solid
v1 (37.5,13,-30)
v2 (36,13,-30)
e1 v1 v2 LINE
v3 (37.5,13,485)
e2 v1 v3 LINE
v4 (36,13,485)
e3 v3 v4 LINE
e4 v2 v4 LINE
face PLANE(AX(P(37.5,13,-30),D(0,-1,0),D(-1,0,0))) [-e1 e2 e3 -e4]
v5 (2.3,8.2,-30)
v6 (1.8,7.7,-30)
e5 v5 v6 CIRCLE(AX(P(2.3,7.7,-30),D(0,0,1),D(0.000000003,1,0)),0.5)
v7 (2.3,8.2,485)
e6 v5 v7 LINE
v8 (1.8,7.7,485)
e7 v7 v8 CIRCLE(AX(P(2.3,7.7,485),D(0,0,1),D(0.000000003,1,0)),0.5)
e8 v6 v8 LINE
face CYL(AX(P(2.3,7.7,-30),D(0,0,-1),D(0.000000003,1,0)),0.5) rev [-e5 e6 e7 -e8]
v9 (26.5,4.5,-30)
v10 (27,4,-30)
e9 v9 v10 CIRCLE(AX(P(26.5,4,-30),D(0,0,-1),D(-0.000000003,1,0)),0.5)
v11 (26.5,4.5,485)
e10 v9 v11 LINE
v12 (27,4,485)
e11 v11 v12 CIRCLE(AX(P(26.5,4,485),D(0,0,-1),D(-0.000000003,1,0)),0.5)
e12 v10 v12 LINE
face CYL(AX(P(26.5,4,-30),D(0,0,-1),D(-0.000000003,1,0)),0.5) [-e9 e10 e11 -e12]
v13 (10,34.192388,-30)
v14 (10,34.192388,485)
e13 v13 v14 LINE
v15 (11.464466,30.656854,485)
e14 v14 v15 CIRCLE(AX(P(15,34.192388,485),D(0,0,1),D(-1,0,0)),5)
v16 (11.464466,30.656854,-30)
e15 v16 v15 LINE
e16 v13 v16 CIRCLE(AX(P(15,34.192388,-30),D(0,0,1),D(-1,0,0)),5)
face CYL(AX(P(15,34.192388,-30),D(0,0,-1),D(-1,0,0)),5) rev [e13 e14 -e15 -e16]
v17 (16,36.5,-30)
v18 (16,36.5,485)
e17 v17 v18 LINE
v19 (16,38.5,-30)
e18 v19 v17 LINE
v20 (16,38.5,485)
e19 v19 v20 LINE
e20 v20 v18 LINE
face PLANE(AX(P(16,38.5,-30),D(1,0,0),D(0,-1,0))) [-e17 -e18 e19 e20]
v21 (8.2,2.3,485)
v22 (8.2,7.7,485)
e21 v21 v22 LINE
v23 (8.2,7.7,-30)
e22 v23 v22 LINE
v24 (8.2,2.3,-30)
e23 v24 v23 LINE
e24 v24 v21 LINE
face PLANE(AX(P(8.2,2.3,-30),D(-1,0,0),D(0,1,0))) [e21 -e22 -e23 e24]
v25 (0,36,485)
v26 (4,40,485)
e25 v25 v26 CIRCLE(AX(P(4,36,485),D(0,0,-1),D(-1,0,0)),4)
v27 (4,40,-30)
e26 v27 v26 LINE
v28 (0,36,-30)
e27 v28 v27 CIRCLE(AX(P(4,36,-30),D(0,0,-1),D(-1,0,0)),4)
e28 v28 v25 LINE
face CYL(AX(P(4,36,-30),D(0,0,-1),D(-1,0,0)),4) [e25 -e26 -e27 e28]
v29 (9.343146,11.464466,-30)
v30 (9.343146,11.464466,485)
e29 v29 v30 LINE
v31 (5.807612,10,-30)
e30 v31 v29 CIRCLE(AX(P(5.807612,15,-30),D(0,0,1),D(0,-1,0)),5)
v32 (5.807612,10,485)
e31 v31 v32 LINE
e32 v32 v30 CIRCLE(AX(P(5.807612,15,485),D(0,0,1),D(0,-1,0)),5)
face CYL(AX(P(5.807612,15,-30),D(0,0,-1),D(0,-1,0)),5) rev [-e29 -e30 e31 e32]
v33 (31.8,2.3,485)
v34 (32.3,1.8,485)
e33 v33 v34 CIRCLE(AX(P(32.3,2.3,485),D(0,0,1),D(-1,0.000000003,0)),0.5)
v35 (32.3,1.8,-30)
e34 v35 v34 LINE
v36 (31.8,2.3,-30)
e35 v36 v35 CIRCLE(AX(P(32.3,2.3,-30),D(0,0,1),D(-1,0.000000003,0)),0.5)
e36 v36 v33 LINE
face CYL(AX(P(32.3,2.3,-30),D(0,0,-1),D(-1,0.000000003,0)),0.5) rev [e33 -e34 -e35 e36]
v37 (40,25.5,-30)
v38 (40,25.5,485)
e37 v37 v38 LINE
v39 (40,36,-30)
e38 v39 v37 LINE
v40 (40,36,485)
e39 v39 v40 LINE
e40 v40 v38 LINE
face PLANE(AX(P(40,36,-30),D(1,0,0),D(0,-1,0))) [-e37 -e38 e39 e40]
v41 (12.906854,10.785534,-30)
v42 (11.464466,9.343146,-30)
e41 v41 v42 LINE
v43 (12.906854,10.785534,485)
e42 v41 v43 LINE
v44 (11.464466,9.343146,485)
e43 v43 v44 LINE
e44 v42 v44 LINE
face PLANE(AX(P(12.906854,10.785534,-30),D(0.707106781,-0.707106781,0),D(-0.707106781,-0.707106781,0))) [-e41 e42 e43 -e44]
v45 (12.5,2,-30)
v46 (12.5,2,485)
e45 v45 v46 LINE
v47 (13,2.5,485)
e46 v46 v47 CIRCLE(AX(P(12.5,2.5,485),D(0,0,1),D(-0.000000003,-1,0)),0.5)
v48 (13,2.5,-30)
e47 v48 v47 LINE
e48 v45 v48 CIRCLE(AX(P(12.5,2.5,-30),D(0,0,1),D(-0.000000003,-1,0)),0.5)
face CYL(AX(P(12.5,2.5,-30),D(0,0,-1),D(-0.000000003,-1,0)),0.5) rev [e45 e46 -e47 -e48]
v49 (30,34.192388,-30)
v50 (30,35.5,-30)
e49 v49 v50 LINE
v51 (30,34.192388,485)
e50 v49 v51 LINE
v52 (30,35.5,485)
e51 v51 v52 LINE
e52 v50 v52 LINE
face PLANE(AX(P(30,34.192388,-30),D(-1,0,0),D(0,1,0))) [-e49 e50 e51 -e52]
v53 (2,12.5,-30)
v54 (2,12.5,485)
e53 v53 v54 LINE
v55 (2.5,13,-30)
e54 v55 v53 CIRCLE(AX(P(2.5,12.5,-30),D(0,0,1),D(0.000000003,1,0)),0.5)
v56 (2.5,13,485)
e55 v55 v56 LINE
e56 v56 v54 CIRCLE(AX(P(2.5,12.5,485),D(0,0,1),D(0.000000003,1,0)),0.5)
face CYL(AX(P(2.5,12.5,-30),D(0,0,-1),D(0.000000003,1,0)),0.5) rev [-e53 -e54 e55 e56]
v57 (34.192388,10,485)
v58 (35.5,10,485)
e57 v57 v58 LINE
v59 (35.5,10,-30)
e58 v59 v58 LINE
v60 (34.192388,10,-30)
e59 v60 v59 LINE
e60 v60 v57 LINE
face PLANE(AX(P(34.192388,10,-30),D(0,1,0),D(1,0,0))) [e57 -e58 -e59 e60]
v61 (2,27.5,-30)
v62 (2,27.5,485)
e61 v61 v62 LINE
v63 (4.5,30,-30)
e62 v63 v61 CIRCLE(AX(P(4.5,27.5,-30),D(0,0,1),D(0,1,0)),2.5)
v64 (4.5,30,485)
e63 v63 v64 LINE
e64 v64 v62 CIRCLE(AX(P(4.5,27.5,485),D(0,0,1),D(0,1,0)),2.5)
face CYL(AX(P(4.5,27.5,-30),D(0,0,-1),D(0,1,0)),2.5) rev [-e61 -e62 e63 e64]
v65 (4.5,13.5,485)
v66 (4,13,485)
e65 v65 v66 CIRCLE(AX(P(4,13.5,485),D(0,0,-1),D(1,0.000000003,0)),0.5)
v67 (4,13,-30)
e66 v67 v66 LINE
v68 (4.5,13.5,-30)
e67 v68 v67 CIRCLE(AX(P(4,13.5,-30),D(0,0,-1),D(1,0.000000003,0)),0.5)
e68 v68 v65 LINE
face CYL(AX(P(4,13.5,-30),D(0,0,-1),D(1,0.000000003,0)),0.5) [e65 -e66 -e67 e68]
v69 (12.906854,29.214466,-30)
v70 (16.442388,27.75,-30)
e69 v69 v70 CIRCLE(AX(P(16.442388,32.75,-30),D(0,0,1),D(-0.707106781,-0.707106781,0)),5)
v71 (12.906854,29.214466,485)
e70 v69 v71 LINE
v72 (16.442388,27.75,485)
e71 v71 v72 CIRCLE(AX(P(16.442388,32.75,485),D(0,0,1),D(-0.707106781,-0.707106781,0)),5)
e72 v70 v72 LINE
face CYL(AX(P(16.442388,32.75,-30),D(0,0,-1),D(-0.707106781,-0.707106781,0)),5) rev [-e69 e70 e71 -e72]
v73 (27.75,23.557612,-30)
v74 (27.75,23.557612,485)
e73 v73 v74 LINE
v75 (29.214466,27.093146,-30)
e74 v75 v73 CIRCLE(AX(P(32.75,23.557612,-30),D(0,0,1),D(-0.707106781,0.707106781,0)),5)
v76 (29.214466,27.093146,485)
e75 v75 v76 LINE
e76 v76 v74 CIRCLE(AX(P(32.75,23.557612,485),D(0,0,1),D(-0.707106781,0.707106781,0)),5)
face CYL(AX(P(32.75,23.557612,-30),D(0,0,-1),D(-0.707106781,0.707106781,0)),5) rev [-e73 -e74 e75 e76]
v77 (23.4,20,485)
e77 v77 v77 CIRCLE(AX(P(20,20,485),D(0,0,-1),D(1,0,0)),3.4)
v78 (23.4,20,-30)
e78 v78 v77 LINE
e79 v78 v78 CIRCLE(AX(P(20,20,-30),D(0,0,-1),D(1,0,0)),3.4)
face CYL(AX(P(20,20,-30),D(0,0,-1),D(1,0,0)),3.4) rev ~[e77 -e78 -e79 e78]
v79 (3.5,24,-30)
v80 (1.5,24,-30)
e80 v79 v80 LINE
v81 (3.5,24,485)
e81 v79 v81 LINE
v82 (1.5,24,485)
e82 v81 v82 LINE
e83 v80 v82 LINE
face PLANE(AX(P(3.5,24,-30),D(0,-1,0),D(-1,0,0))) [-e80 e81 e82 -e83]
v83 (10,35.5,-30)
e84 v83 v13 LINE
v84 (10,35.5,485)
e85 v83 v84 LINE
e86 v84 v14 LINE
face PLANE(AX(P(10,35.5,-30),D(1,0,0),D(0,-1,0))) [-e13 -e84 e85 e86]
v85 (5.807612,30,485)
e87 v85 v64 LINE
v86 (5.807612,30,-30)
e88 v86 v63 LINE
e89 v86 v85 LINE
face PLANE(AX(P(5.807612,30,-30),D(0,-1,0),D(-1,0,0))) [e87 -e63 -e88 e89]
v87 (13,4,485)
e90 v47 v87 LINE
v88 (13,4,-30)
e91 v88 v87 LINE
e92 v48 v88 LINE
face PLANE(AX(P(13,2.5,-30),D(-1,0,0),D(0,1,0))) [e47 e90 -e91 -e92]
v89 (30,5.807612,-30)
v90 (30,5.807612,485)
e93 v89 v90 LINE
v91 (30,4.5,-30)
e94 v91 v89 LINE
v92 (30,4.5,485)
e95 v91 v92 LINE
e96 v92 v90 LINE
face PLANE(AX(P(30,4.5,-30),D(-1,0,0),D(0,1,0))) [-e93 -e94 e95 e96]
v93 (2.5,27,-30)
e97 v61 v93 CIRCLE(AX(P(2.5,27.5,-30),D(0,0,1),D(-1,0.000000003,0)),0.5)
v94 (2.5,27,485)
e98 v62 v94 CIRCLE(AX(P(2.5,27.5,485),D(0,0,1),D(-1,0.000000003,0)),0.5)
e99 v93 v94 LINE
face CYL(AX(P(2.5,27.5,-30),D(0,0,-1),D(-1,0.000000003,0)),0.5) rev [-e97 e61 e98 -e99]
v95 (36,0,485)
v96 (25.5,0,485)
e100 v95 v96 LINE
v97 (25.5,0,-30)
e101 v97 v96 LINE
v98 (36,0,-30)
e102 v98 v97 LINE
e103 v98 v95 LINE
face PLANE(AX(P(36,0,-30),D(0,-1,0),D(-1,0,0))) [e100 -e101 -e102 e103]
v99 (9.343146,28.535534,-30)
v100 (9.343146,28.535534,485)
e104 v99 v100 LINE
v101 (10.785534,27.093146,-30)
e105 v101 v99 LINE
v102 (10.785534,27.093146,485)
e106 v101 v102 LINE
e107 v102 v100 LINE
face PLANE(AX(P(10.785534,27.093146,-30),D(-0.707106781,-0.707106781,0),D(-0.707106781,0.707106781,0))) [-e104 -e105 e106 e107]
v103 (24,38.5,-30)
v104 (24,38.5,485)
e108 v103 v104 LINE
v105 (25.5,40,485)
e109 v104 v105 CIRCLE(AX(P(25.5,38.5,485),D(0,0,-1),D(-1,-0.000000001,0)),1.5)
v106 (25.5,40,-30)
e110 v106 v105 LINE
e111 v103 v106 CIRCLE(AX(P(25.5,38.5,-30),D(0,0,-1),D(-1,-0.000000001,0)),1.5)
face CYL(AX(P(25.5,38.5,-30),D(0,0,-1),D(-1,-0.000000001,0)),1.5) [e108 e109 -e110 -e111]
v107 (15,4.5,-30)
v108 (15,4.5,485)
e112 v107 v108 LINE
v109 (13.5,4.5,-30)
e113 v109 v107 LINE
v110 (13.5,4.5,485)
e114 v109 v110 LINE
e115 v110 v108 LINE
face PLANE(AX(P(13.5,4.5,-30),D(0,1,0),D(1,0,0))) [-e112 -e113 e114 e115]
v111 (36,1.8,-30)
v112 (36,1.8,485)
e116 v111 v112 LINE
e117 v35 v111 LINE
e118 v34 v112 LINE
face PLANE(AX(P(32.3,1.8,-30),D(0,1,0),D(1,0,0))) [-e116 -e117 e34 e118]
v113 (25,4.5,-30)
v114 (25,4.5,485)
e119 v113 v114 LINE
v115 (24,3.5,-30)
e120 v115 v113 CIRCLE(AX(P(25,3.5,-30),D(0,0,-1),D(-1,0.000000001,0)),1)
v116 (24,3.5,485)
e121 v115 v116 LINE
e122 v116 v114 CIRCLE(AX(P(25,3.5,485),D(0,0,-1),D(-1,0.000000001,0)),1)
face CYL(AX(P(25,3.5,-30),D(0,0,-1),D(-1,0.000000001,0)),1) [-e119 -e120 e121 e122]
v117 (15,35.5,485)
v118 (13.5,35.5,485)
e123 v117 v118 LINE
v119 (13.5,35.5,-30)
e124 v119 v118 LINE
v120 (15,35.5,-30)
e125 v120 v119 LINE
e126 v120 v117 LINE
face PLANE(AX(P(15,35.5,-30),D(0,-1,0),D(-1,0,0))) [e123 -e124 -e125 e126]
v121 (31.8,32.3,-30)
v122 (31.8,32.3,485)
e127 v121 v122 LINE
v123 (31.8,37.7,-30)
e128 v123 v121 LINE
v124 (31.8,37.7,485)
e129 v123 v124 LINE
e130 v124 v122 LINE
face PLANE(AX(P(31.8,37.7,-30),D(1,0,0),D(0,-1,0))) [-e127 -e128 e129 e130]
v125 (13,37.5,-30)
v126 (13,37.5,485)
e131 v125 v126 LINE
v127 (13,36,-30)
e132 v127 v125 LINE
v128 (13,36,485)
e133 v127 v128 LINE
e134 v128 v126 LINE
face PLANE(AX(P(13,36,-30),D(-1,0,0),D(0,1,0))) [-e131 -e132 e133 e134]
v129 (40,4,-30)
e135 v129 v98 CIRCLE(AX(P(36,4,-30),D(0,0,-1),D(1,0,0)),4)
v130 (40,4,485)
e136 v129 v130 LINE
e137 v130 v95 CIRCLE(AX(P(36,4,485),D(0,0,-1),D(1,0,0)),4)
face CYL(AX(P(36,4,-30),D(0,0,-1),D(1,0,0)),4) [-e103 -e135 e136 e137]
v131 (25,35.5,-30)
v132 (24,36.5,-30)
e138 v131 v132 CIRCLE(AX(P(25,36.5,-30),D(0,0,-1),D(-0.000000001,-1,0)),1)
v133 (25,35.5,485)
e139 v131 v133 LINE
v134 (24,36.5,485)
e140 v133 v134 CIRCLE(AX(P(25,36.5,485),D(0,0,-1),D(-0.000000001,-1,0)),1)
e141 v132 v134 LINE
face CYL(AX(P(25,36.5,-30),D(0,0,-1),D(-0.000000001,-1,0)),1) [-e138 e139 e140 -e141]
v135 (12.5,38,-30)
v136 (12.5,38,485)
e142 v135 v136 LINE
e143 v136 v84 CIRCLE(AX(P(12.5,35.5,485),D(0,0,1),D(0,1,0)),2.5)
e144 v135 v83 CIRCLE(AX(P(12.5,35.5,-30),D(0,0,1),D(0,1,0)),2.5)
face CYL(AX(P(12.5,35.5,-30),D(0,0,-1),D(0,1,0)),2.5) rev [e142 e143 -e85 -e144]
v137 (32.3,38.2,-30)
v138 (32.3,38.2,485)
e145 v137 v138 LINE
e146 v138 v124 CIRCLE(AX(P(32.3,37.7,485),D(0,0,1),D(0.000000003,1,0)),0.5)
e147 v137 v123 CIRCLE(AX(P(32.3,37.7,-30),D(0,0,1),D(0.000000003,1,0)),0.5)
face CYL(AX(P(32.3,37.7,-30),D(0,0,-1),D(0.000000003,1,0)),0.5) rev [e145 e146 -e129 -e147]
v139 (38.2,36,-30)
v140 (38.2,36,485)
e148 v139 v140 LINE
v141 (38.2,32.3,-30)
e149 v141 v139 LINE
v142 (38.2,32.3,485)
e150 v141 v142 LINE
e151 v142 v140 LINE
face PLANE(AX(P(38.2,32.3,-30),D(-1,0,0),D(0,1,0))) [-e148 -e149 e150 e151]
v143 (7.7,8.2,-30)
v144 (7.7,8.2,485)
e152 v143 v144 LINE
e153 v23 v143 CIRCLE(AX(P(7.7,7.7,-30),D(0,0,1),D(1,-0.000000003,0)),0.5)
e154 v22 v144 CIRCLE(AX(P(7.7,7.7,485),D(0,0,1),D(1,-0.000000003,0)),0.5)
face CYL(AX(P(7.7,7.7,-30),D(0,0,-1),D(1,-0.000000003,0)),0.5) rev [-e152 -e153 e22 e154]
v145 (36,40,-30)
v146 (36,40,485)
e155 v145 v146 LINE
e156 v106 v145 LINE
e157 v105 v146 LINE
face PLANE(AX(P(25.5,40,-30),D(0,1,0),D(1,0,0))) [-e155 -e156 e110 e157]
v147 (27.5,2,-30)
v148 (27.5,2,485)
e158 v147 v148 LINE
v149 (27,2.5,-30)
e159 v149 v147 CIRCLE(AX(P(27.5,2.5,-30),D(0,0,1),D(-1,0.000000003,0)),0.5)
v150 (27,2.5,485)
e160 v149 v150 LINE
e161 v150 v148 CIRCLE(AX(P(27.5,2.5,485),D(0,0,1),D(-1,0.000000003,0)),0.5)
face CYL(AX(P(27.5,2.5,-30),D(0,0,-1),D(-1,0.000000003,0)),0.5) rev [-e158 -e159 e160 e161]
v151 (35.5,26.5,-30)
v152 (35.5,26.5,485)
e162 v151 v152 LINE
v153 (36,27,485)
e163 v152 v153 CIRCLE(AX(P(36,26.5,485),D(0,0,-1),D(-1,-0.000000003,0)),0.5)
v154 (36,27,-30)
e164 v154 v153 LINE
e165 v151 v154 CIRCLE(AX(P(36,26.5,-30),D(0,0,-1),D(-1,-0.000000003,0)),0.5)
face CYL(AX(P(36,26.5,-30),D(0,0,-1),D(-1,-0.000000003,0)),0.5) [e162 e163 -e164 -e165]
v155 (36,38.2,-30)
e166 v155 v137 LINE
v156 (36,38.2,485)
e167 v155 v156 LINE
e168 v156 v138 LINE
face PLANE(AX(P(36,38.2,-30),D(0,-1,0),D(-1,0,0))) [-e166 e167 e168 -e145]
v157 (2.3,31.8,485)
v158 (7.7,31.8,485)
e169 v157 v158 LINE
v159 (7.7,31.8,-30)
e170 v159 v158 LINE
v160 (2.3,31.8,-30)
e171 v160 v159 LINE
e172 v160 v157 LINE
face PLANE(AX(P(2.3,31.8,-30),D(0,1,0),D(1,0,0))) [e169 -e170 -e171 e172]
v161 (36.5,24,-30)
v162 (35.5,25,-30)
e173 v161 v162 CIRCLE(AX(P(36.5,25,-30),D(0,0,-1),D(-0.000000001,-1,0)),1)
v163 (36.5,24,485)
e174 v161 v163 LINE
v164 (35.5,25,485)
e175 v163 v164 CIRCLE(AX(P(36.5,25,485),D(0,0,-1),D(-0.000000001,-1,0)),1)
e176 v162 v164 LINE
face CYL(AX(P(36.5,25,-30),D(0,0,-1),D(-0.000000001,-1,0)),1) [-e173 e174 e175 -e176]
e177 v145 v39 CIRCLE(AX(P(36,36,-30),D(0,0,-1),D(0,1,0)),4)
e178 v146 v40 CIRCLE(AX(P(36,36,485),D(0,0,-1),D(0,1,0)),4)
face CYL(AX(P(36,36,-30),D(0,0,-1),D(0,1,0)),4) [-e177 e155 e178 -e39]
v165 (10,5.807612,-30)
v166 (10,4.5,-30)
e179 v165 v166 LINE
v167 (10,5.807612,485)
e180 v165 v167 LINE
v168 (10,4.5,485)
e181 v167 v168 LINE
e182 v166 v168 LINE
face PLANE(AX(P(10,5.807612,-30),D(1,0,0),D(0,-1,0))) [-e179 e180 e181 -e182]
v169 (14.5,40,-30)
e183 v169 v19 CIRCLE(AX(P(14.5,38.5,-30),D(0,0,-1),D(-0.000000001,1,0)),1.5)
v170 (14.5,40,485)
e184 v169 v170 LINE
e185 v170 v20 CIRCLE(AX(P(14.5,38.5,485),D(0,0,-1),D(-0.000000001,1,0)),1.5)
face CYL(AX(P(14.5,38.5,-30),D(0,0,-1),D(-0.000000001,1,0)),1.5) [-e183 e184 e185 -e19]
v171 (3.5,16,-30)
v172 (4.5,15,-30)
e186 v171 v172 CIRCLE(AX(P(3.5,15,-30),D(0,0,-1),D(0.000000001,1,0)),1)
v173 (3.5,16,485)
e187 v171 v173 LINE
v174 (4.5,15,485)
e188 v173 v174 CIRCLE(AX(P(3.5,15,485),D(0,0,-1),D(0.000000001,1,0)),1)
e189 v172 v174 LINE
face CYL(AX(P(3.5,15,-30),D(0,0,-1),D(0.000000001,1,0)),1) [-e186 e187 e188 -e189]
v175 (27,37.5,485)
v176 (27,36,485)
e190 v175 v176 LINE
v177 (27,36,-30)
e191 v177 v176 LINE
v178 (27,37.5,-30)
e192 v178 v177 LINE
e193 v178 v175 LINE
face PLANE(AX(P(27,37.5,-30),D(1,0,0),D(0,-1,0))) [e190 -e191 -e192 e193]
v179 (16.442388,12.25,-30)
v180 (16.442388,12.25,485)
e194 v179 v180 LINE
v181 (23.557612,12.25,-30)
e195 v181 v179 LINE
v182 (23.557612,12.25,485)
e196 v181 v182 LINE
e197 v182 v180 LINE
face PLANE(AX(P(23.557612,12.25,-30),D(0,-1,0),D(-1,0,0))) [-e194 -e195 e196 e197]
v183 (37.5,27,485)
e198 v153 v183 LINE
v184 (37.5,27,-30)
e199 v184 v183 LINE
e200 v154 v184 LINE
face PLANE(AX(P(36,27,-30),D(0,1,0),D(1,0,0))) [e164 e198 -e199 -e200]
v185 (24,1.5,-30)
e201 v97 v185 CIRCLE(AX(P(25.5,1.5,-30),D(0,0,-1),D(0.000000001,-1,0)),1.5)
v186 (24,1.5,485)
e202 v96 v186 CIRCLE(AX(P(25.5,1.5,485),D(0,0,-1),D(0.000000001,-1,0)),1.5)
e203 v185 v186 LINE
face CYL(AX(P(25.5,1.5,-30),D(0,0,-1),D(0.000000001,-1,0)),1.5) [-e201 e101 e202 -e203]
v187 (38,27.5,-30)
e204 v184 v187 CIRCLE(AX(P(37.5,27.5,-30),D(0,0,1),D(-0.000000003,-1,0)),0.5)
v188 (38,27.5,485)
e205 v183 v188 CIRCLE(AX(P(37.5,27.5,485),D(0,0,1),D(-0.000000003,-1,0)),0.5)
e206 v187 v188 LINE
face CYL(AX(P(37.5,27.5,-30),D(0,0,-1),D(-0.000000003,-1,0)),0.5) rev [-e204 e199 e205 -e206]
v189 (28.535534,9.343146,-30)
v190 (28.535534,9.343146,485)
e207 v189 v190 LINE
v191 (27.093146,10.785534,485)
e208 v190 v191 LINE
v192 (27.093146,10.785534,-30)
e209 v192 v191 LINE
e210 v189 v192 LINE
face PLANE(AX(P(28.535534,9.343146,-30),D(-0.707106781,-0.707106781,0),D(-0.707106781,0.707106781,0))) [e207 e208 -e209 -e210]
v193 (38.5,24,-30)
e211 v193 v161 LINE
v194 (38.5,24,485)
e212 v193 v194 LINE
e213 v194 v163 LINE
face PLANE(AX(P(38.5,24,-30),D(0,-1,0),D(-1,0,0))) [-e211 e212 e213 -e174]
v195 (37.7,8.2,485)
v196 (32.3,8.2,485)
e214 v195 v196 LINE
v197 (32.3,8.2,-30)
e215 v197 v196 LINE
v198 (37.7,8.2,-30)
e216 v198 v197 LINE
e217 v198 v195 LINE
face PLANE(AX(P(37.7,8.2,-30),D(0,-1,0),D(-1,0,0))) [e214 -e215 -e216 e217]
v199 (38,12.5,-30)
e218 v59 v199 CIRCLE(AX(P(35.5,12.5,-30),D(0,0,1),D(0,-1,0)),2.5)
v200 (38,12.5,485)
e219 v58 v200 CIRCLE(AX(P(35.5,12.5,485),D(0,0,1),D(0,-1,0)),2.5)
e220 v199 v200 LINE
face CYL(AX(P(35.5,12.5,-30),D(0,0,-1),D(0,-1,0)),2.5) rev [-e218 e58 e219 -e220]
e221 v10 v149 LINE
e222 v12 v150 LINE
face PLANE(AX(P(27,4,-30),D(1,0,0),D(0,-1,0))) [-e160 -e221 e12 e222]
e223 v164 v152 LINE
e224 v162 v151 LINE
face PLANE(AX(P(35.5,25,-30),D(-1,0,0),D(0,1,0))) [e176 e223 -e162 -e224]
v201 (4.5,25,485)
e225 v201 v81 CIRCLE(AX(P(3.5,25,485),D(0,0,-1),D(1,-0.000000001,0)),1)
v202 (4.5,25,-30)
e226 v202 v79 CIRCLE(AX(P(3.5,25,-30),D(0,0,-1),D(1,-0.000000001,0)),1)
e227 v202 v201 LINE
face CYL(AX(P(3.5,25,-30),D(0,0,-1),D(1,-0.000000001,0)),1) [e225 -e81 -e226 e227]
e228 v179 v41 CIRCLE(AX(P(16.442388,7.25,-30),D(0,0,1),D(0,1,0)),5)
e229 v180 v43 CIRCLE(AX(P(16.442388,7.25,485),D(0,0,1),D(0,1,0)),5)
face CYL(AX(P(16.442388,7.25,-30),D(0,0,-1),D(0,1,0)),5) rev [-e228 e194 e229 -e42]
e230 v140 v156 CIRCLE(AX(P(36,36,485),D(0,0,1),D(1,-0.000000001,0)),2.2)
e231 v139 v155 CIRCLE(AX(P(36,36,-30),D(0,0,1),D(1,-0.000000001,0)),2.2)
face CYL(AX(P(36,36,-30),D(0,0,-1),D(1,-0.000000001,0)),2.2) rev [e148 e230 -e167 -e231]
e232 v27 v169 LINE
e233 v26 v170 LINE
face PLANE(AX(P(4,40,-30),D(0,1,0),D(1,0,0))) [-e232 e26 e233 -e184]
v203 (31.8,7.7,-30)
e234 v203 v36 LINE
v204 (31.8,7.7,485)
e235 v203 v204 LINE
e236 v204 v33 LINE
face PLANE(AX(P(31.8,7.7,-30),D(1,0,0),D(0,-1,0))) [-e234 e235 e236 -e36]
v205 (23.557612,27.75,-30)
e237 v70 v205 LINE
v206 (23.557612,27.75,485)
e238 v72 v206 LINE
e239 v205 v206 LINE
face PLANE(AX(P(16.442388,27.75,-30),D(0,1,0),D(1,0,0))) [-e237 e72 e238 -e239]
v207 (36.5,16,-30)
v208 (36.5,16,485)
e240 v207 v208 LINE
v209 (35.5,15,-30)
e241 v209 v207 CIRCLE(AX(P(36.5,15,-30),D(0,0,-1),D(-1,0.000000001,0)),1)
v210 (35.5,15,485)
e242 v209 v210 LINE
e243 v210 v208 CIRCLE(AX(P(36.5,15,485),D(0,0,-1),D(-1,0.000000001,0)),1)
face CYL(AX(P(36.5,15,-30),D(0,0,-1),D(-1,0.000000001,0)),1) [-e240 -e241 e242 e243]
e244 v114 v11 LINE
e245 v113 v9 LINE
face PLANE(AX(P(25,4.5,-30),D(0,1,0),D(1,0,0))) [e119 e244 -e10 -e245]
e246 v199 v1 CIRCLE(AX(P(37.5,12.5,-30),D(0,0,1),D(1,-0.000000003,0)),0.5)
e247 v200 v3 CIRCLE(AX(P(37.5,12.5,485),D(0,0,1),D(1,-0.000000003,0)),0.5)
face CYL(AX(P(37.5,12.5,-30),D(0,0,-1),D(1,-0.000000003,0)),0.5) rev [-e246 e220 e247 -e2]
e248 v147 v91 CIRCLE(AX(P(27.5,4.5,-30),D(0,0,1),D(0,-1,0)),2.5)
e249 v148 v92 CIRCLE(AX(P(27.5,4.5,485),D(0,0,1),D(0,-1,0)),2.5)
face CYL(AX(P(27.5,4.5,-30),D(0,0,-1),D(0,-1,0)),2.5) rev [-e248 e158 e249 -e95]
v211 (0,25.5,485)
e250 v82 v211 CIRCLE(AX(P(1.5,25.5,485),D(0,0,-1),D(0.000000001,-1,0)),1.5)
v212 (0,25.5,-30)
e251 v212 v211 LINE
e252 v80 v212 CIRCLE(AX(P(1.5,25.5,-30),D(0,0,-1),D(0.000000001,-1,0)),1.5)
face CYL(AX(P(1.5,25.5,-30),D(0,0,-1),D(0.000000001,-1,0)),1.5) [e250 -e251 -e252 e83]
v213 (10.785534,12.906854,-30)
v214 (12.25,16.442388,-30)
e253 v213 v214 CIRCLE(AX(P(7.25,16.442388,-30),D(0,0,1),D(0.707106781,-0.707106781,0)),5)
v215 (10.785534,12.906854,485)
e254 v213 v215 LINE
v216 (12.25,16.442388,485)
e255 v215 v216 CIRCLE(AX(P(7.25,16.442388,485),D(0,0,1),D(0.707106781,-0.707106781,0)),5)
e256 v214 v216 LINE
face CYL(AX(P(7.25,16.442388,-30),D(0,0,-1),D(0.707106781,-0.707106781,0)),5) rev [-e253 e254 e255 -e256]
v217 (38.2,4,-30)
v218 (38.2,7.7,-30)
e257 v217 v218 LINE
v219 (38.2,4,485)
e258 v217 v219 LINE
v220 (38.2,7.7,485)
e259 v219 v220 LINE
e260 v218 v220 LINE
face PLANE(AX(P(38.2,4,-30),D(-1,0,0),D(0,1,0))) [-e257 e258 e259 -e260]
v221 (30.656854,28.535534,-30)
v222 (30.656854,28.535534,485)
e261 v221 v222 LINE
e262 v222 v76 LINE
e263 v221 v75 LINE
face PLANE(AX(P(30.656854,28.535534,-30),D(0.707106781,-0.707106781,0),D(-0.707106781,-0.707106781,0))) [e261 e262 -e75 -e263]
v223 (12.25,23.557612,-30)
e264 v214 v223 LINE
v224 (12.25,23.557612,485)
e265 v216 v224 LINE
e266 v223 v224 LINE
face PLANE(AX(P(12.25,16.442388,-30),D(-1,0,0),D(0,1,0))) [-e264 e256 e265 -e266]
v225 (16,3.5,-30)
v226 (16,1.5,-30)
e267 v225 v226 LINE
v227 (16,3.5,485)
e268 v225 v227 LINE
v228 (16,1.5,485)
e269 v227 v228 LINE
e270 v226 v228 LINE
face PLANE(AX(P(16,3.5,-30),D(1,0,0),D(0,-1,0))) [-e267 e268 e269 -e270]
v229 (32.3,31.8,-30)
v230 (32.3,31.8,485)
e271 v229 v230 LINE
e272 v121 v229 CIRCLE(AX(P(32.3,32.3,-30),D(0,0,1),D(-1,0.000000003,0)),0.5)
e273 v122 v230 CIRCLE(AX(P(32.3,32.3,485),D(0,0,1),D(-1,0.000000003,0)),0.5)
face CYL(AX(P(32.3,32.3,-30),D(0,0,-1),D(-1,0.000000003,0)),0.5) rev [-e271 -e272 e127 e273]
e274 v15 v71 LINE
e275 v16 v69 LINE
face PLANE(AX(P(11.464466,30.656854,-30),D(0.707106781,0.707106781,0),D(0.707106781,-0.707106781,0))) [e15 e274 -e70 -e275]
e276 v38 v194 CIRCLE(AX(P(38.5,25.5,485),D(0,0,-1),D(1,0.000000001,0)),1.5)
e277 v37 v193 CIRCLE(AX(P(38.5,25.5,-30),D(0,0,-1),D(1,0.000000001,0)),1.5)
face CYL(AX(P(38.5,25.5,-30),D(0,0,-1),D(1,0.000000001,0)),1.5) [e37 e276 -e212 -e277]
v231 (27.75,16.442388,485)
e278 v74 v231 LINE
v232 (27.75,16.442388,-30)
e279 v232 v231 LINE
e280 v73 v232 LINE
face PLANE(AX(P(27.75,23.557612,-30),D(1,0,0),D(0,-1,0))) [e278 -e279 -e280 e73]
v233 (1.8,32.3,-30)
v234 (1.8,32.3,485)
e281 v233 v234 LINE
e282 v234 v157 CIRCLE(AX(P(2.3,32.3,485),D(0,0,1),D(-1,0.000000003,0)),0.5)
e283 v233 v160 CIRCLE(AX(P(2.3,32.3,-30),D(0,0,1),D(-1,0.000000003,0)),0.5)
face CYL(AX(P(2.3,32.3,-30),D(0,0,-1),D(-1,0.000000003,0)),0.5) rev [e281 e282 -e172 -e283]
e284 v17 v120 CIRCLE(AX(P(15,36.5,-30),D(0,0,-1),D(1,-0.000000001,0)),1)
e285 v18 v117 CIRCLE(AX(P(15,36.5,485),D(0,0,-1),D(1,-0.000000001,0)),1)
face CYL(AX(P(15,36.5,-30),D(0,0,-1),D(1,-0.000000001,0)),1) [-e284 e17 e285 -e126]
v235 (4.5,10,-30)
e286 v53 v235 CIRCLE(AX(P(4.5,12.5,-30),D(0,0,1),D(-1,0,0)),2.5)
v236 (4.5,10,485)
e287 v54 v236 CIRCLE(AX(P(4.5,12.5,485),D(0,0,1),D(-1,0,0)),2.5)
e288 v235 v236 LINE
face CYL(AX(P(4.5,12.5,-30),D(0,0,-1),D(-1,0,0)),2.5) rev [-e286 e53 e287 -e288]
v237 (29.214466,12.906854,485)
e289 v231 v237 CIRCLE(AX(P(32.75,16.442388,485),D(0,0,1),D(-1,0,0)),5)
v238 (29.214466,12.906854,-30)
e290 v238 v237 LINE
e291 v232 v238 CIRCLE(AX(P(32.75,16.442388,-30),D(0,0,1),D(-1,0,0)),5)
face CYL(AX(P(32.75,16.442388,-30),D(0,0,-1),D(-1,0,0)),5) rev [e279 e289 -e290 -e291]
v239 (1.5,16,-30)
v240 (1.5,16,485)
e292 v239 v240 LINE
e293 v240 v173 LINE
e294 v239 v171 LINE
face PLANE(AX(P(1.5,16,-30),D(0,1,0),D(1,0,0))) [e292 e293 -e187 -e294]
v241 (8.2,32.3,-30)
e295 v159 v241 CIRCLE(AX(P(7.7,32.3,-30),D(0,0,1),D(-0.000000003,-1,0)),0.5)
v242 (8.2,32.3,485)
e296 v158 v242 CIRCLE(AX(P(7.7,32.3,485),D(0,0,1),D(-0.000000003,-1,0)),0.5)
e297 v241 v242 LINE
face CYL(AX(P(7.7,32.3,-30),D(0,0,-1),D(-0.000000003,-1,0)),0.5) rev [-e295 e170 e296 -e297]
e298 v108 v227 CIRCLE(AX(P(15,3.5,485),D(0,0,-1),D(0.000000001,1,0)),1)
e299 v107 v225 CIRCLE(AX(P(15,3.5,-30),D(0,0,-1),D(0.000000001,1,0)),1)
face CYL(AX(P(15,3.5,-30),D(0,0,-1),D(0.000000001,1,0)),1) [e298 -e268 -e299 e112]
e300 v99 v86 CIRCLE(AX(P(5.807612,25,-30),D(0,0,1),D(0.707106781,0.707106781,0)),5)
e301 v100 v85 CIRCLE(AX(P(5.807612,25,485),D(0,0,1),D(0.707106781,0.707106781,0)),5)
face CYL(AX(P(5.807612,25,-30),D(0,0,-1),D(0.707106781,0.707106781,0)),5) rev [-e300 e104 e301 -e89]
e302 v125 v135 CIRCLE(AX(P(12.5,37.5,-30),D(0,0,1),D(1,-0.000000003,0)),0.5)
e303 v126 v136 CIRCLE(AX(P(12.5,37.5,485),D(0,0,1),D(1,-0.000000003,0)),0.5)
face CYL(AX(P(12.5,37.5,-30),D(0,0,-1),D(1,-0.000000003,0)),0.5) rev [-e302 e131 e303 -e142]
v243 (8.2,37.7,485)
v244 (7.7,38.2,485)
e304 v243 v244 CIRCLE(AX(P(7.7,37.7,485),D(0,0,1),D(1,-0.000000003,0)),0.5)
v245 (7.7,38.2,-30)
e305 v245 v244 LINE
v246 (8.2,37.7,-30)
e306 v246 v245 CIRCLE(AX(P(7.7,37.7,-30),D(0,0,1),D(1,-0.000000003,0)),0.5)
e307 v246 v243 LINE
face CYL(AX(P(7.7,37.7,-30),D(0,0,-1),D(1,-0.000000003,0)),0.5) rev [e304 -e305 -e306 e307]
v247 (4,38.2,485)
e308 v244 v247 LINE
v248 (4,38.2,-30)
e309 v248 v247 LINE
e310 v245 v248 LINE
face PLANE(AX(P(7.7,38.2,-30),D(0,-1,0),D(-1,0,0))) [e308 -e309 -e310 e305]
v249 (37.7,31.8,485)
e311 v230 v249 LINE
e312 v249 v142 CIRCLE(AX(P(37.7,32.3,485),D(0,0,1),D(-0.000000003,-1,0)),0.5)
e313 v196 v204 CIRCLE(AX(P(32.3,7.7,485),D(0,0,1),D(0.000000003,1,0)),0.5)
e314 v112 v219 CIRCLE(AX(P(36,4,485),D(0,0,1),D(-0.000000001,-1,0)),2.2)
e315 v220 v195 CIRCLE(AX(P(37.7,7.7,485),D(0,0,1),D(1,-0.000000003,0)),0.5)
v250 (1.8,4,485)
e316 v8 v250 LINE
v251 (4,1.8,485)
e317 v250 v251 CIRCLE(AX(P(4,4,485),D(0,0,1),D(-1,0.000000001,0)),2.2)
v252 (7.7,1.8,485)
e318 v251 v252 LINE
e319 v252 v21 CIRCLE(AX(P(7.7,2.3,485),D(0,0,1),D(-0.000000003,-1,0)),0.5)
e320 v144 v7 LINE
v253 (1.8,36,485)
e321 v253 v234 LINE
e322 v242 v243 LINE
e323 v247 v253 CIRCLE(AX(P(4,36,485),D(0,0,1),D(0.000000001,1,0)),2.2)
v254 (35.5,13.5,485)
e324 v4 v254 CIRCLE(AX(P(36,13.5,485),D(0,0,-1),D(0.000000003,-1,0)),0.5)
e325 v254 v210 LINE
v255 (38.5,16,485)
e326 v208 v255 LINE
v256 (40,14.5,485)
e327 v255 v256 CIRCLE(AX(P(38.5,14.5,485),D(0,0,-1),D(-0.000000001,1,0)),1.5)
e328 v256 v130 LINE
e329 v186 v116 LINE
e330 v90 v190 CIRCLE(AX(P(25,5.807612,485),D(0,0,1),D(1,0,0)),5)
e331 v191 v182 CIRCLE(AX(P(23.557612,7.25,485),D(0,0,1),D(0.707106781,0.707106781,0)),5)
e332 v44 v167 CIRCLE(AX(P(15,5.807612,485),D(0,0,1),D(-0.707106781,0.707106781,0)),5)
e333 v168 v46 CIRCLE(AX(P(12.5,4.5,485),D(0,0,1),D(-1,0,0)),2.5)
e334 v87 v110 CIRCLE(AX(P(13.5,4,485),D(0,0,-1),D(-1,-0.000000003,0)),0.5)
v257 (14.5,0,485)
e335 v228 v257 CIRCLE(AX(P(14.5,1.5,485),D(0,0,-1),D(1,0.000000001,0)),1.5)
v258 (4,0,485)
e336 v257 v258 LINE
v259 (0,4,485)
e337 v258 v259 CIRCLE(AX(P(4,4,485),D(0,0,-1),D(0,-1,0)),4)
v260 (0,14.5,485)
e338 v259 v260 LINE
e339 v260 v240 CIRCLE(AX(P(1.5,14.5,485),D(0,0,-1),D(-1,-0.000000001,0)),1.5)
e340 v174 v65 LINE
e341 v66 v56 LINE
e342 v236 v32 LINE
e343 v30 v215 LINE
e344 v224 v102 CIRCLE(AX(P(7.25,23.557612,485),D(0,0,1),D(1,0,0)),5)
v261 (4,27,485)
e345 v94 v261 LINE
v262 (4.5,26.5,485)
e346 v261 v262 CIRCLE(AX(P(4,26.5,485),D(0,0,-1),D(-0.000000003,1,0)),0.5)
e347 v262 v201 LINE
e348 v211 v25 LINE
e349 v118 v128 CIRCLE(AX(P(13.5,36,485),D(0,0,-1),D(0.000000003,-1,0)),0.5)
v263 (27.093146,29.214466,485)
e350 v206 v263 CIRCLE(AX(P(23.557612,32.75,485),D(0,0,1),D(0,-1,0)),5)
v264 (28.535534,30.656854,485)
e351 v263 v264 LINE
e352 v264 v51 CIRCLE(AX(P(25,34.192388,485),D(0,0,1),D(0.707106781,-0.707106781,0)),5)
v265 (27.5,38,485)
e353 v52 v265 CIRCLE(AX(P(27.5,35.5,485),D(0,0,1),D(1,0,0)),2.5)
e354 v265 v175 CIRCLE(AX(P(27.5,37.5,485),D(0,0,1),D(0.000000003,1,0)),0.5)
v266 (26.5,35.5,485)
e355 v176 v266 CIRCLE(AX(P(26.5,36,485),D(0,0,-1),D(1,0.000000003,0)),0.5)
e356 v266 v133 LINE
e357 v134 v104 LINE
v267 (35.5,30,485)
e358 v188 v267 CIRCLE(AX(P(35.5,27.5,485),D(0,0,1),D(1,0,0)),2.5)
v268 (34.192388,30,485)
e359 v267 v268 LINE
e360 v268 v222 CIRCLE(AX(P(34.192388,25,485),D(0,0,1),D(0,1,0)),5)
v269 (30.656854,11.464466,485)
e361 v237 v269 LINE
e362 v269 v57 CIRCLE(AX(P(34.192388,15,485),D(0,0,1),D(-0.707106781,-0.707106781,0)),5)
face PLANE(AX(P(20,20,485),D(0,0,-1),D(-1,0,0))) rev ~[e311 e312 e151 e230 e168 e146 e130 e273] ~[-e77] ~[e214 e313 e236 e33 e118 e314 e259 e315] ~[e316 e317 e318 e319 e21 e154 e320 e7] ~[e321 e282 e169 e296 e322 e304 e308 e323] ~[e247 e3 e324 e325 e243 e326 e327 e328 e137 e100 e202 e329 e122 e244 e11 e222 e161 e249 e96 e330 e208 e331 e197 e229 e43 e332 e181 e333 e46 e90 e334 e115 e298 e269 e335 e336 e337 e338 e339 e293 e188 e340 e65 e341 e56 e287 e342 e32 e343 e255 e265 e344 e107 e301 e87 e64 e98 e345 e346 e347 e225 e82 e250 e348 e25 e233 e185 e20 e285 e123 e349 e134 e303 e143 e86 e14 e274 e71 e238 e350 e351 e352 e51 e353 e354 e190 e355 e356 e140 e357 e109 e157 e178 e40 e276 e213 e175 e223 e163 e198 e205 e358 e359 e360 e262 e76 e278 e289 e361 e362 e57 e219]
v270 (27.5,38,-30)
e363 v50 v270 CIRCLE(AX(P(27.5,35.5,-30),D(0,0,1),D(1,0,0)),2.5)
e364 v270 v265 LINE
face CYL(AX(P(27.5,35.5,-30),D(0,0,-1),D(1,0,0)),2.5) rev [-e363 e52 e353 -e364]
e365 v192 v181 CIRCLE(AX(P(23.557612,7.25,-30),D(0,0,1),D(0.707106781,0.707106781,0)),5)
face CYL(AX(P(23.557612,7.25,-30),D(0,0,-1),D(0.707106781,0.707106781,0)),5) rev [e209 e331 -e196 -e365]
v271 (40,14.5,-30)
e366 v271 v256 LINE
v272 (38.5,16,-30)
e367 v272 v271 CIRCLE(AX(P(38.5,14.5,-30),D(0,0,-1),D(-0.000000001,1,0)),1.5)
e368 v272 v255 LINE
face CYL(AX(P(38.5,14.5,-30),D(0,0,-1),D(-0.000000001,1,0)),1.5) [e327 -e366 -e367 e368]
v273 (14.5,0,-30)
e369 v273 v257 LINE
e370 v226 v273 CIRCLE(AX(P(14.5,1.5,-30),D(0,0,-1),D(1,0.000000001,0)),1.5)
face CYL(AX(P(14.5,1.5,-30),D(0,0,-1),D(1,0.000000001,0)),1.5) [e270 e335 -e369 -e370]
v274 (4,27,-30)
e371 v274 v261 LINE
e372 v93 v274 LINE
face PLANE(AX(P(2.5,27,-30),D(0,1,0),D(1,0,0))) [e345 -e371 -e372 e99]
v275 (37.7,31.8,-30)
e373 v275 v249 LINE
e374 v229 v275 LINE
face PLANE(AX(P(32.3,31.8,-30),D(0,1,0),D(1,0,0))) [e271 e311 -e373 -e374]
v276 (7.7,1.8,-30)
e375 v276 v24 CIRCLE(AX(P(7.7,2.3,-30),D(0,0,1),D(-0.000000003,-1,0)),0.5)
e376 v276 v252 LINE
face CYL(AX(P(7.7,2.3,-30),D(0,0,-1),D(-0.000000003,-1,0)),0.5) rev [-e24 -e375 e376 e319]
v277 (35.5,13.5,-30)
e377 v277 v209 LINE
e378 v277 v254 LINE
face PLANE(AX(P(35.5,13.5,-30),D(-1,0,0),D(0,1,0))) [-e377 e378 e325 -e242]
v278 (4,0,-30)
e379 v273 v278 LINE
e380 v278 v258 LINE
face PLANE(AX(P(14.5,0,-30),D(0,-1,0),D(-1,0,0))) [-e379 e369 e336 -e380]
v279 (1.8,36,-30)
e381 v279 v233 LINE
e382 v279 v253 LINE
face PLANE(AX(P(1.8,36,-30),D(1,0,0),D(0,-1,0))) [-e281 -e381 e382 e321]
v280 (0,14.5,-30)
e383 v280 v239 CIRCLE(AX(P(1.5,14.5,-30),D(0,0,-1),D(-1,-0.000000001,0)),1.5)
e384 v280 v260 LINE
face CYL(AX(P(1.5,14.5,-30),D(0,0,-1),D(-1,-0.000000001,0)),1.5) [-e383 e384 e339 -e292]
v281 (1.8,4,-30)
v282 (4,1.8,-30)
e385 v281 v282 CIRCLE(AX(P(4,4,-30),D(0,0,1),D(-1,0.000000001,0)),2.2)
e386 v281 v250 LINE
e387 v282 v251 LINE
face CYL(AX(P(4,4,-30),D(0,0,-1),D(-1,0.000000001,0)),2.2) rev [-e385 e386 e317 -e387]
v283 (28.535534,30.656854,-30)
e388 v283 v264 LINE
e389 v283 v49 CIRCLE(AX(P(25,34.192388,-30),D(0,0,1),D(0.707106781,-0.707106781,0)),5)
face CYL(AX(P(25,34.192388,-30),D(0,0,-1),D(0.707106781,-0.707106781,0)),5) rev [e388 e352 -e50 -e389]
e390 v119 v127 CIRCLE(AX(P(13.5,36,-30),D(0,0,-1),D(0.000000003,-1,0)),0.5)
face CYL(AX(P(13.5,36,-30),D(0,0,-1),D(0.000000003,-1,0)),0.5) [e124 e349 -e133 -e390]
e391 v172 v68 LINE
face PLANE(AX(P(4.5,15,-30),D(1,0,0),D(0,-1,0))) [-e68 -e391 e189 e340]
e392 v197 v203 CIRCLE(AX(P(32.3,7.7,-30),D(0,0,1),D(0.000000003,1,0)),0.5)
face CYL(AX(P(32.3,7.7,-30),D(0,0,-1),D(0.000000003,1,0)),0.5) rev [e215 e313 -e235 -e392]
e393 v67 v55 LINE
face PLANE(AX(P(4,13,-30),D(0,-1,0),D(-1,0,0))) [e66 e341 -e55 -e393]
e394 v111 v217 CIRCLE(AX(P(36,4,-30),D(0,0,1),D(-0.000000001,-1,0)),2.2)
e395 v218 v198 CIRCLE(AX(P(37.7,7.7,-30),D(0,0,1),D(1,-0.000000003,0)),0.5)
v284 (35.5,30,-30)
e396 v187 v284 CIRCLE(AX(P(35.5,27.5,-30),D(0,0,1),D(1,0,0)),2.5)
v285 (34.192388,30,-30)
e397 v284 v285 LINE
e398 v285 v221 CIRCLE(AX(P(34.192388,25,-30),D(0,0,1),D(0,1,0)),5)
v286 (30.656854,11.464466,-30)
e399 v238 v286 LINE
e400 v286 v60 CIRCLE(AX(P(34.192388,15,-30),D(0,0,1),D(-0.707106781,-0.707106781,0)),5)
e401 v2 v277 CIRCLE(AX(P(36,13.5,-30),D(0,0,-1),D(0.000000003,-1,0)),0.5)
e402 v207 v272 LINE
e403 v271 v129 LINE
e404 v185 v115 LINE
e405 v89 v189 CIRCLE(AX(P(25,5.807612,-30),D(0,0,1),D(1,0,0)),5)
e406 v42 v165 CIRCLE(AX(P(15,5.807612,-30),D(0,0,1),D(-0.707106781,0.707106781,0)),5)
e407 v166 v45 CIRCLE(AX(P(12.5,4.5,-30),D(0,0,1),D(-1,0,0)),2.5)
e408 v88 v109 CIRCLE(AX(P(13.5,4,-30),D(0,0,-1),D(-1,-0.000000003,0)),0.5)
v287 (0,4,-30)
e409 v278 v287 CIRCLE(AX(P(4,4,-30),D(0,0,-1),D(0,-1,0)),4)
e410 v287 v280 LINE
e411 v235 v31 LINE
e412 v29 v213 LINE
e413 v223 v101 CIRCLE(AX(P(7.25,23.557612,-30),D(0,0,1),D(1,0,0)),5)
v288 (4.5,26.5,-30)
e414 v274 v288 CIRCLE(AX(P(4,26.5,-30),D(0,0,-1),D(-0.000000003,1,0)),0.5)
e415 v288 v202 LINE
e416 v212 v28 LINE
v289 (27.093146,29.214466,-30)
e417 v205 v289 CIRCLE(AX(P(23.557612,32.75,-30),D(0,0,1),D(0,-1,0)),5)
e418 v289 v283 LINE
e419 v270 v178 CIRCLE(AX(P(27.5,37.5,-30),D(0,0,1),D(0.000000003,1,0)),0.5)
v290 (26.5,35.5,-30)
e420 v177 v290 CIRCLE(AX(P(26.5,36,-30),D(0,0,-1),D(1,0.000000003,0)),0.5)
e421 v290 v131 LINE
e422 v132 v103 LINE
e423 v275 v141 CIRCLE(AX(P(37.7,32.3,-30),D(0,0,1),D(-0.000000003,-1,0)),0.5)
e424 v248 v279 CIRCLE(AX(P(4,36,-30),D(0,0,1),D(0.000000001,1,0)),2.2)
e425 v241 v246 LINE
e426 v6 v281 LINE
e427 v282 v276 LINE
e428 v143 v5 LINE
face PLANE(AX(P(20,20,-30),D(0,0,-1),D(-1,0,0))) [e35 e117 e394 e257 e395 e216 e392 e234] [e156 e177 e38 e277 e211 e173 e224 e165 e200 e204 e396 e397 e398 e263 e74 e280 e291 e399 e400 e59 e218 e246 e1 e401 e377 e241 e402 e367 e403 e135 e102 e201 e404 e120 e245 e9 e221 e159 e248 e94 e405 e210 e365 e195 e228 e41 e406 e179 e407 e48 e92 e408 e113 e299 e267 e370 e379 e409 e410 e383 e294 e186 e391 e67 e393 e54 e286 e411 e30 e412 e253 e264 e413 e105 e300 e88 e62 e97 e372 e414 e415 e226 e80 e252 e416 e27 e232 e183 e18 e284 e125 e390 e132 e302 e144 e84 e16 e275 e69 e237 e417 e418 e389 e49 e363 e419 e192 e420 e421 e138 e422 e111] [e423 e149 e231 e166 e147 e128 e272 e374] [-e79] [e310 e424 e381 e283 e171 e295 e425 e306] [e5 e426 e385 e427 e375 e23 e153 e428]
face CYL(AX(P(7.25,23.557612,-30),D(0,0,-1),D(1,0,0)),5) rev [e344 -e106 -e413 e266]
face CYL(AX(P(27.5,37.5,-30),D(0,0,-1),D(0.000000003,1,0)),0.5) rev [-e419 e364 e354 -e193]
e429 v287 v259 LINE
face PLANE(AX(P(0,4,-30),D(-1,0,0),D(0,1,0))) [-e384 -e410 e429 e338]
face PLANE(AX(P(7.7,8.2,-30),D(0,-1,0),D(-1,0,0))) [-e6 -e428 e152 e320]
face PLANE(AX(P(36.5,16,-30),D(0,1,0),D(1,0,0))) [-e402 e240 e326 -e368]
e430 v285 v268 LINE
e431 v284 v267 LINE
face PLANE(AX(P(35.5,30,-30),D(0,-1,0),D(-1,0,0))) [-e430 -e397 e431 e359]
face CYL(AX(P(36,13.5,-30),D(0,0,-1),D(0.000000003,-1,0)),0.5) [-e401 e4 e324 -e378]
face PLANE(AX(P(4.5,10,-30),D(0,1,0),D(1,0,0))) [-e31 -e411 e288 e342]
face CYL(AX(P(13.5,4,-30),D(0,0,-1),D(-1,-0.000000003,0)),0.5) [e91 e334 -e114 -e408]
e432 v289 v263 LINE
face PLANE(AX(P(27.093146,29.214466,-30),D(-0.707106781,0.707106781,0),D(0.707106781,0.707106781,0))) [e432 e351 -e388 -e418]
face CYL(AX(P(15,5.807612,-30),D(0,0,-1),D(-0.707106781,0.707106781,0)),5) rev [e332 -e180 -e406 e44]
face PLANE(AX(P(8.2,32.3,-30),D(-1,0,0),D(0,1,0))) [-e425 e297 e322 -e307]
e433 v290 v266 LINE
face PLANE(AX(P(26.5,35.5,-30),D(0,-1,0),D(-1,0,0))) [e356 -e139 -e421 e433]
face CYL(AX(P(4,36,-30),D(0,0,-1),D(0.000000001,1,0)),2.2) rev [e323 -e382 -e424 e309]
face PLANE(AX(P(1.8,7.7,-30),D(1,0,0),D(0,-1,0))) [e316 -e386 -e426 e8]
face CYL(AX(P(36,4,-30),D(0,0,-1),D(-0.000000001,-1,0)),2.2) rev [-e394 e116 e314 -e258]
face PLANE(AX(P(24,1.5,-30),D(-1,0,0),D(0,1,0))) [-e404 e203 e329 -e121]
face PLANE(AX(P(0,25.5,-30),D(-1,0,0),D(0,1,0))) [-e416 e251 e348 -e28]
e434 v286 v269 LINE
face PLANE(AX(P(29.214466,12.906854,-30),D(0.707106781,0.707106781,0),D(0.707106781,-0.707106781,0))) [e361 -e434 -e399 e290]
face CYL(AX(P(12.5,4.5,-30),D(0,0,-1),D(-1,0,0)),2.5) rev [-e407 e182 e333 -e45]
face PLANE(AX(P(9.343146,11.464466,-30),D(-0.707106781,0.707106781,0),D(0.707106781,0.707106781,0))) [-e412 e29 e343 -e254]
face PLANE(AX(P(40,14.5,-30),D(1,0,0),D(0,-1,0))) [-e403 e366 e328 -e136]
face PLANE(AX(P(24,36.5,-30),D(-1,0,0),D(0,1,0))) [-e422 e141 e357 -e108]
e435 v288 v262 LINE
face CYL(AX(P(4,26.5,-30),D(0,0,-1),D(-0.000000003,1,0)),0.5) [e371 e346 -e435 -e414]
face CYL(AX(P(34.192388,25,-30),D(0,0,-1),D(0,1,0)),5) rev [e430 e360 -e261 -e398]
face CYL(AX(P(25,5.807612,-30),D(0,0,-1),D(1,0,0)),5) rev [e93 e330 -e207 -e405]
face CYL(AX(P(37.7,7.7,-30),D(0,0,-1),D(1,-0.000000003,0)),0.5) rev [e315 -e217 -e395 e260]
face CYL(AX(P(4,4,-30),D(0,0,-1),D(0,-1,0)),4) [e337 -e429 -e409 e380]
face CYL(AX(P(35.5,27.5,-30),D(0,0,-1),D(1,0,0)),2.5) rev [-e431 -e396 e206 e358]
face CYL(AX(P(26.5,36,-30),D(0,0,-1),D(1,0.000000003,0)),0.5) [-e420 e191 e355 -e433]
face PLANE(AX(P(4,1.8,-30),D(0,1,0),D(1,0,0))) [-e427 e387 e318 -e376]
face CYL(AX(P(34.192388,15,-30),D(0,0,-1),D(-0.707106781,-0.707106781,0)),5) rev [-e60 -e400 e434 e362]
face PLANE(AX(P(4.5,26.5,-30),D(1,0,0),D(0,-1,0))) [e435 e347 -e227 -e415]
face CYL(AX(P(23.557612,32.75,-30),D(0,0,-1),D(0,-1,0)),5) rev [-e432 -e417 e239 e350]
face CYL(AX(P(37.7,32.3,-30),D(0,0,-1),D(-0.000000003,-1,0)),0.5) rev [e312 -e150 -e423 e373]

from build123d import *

# Parameters (mm, degrees)
ESQUISSE1_R        = 3.4
BOSS_EXTRU_1_DEPTH = 515


with BuildPart() as part:
    # Esquisse1 → Boss.-Extru.1 (new body)
    with BuildSketch(Plane(origin=(0, 0, -30), x_dir=(-1, 0, 0), z_dir=(0, 0, -1))):
        with BuildLine():
            Line((-4.5, 15), (-4.5, 13.5))
            ThreePointArc((-4.5, 13.5), (-4.353553391, 13.146446609), (-4, 13))
            Line((-4, 13), (-2.5, 13))
            ThreePointArc((-2.5, 13), (-2.146446609, 12.853553391), (-2, 12.5))
            ThreePointArc((-2, 12.5), (-2.732233047, 10.732233047), (-4.5, 10))
            Line((-4.5, 10), (-5.807611845, 10))
            ThreePointArc((-5.807611845, 10), (-7.721029006, 10.380602337), (-9.343145751, 11.464466094))
            Line((-9.343145751, 11.464466094), (-10.785533906, 12.906854249))
            ThreePointArc((-10.785533906, 12.906854249), (-11.869397663, 14.528970994), (-12.25, 16.442388155))
            Line((-12.25, 16.442388155), (-12.25, 23.557611845))
            ThreePointArc((-12.25, 23.557611845), (-11.869397663, 25.471029006), (-10.785533906, 27.093145751))
            Line((-10.785533906, 27.093145751), (-9.343145751, 28.535533906))
            ThreePointArc((-9.343145751, 28.535533906), (-7.721029006, 29.619397663), (-5.807611845, 30))
            Line((-5.807611845, 30), (-4.5, 30))
            ThreePointArc((-4.5, 30), (-2.732233047, 29.267766953), (-2, 27.5))
            ThreePointArc((-2, 27.5), (-2.146446609, 27.146446609), (-2.5, 27))
            Line((-2.5, 27), (-4, 27))
            ThreePointArc((-4, 27), (-4.353553391, 26.853553391), (-4.5, 26.5))
            Line((-4.5, 26.5), (-4.5, 25))
            ThreePointArc((-4.5, 25), (-4.207106781, 24.292893219), (-3.5, 24))
            Line((-3.5, 24), (-1.5, 24))
            ThreePointArc((-1.5, 24), (-0.439339828, 24.439339828), (0, 25.5))
            Line((0, 25.5), (0, 36))
            ThreePointArc((0, 36), (-1.171572875, 38.828427125), (-4, 40))
            Line((-4, 40), (-14.5, 40))
            ThreePointArc((-14.5, 40), (-15.560660172, 39.560660172), (-16, 38.5))
            Line((-16, 38.5), (-16, 36.5))
            ThreePointArc((-16, 36.5), (-15.707106781, 35.792893219), (-15, 35.5))
            Line((-15, 35.5), (-13.5, 35.5))
            ThreePointArc((-13.5, 35.5), (-13.146446609, 35.646446609), (-13, 36))
            Line((-13, 36), (-13, 37.5))
            ThreePointArc((-13, 37.5), (-12.853553391, 37.853553391), (-12.5, 38))
            ThreePointArc((-12.5, 38), (-10.732233047, 37.267766953), (-10, 35.5))
            Line((-10, 35.5), (-10, 34.192388155))
            ThreePointArc((-10, 34.192388155), (-10.380602337, 32.278970994), (-11.464466094, 30.656854249))
            Line((-11.464466094, 30.656854249), (-12.906854249, 29.214466094))
            ThreePointArc((-12.906854249, 29.214466094), (-14.528970994, 28.130602337), (-16.442388155, 27.75))
            Line((-16.442388155, 27.75), (-23.557611845, 27.75))
            ThreePointArc((-23.557611845, 27.75), (-25.471029006, 28.130602337), (-27.093145751, 29.214466094))
            Line((-27.093145751, 29.214466094), (-28.535533906, 30.656854249))
            ThreePointArc((-28.535533906, 30.656854249), (-29.619397663, 32.278970994), (-30, 34.192388155))
            Line((-30, 34.192388155), (-30, 35.5))
            ThreePointArc((-30, 35.5), (-29.267766953, 37.267766953), (-27.5, 38))
            ThreePointArc((-27.5, 38), (-27.146446609, 37.853553391), (-27, 37.5))
            Line((-27, 37.5), (-27, 36))
            ThreePointArc((-27, 36), (-26.853553391, 35.646446609), (-26.5, 35.5))
            Line((-26.5, 35.5), (-25, 35.5))
            ThreePointArc((-25, 35.5), (-24.292893219, 35.792893219), (-24, 36.5))
            Line((-24, 36.5), (-24, 38.5))
            ThreePointArc((-24, 38.5), (-24.439339828, 39.560660172), (-25.5, 40))
            Line((-25.5, 40), (-36, 40))
            ThreePointArc((-36, 40), (-38.828427125, 38.828427125), (-40, 36))
            Line((-40, 36), (-40, 25.5))
            ThreePointArc((-40, 25.5), (-39.560660172, 24.439339828), (-38.5, 24))
            Line((-38.5, 24), (-36.5, 24))
            ThreePointArc((-36.5, 24), (-35.792893219, 24.292893219), (-35.5, 25))
            Line((-35.5, 25), (-35.5, 26.5))
            ThreePointArc((-35.5, 26.5), (-35.646446609, 26.853553391), (-36, 27))
            Line((-36, 27), (-37.5, 27))
            ThreePointArc((-37.5, 27), (-37.853553391, 27.146446609), (-38, 27.5))
            ThreePointArc((-38, 27.5), (-37.267766953, 29.267766953), (-35.5, 30))
            Line((-35.5, 30), (-34.192388155, 30))
            ThreePointArc((-34.192388155, 30), (-32.278970994, 29.619397663), (-30.656854249, 28.535533906))
            Line((-30.656854249, 28.535533906), (-29.214466094, 27.093145751))
            ThreePointArc((-29.214466094, 27.093145751), (-28.130602337, 25.471029006), (-27.75, 23.557611845))
            Line((-27.75, 23.557611845), (-27.75, 16.442388155))
            ThreePointArc((-27.75, 16.442388155), (-28.130602337, 14.528970994), (-29.214466094, 12.906854249))
            Line((-29.214466094, 12.906854249), (-30.656854249, 11.464466094))
            ThreePointArc((-30.656854249, 11.464466094), (-32.278970994, 10.380602337), (-34.192388155, 10))
            Line((-34.192388155, 10), (-35.5, 10))
            ThreePointArc((-35.5, 10), (-37.267766953, 10.732233047), (-38, 12.5))
            ThreePointArc((-38, 12.5), (-37.853553391, 12.853553391), (-37.5, 13))
            Line((-37.5, 13), (-36, 13))
            ThreePointArc((-36, 13), (-35.646446609, 13.146446609), (-35.5, 13.5))
            Line((-35.5, 13.5), (-35.5, 15))
            ThreePointArc((-35.5, 15), (-35.792893219, 15.707106781), (-36.5, 16))
            Line((-36.5, 16), (-38.5, 16))
            ThreePointArc((-38.5, 16), (-39.560660172, 15.560660172), (-40, 14.5))
            Line((-40, 14.5), (-40, 4))
            ThreePointArc((-40, 4), (-38.828427125, 1.171572875), (-36, 0))
            Line((-36, 0), (-25.5, 0))
            ThreePointArc((-25.5, 0), (-24.439339828, 0.439339828), (-24, 1.5))
            Line((-24, 1.5), (-24, 3.5))
            ThreePointArc((-24, 3.5), (-24.292893219, 4.207106781), (-25, 4.5))
            Line((-25, 4.5), (-26.5, 4.5))
            ThreePointArc((-26.5, 4.5), (-26.853553391, 4.353553391), (-27, 4))
            Line((-27, 4), (-27, 2.5))
            ThreePointArc((-27, 2.5), (-27.146446609, 2.146446609), (-27.5, 2))
            ThreePointArc((-27.5, 2), (-29.267766953, 2.732233047), (-30, 4.5))
            Line((-30, 4.5), (-30, 5.807611845))
            ThreePointArc((-30, 5.807611845), (-29.619397663, 7.721029006), (-28.535533906, 9.343145751))
            Line((-28.535533906, 9.343145751), (-27.093145751, 10.785533906))
            ThreePointArc((-27.093145751, 10.785533906), (-25.471029006, 11.869397663), (-23.557611845, 12.25))
            Line((-23.557611845, 12.25), (-16.442388155, 12.25))
            ThreePointArc((-16.442388155, 12.25), (-14.528970994, 11.869397663), (-12.906854249, 10.785533906))
            Line((-12.906854249, 10.785533906), (-11.464466094, 9.343145751))
            ThreePointArc((-11.464466094, 9.343145751), (-10.380602337, 7.721029006), (-10, 5.807611845))
            Line((-10, 5.807611845), (-10, 4.5))
            ThreePointArc((-10, 4.5), (-10.732233047, 2.732233047), (-12.5, 2))
            ThreePointArc((-12.5, 2), (-12.853553391, 2.146446609), (-13, 2.5))
            Line((-13, 2.5), (-13, 4))
            ThreePointArc((-13, 4), (-13.146446609, 4.353553391), (-13.5, 4.5))
            Line((-13.5, 4.5), (-15, 4.5))
            ThreePointArc((-15, 4.5), (-15.707106781, 4.207106781), (-16, 3.5))
            Line((-16, 3.5), (-16, 1.5))
            ThreePointArc((-16, 1.5), (-15.560660172, 0.439339828), (-14.5, 0))
            Line((-14.5, 0), (-4, 0))
            ThreePointArc((-4, 0), (-1.171572875, 1.171572875), (0, 4))
            Line((0, 4), (0, 14.5))
            ThreePointArc((0, 14.5), (-0.439339828, 15.560660172), (-1.5, 16))
            Line((-1.5, 16), (-3.5, 16))
            ThreePointArc((-3.5, 16), (-4.207106781, 15.707106781), (-4.5, 15))
        make_face()
        with Locations(Location((-20, 20, 0), (0, 0, 180))):
            Circle(ESQUISSE1_R, mode=Mode.SUBTRACT)
        with BuildLine():
            Line((-4, 1.8), (-7.7, 1.8))
            ThreePointArc((-7.7, 1.8), (-8.053553391, 1.946446609), (-8.2, 2.3))
            Line((-8.2, 2.3), (-8.2, 7.7))
            ThreePointArc((-8.2, 7.7), (-8.053553391, 8.053553391), (-7.7, 8.2))
            Line((-7.7, 8.2), (-2.3, 8.2))
            ThreePointArc((-2.3, 8.2), (-1.946446609, 8.053553391), (-1.8, 7.7))
            Line((-1.8, 7.7), (-1.8, 4))
            ThreePointArc((-1.8, 4), (-2.444365081, 2.444365081), (-4, 1.8))
        make_face(mode=Mode.SUBTRACT)
        with BuildLine():
            Line((-38.2, 4), (-38.2, 7.7))
            ThreePointArc((-38.2, 7.7), (-38.053553391, 8.053553391), (-37.7, 8.2))
            Line((-37.7, 8.2), (-32.3, 8.2))
            ThreePointArc((-32.3, 8.2), (-31.946446609, 8.053553391), (-31.8, 7.7))
            Line((-31.8, 7.7), (-31.8, 2.3))
            ThreePointArc((-31.8, 2.3), (-31.946446609, 1.946446609), (-32.3, 1.8))
            Line((-32.3, 1.8), (-36, 1.8))
            ThreePointArc((-36, 1.8), (-37.555634919, 2.444365081), (-38.2, 4))
        make_face(mode=Mode.SUBTRACT)
        with BuildLine():
            Line((-36, 38.2), (-32.3, 38.2))
            ThreePointArc((-32.3, 38.2), (-31.946446609, 38.053553391), (-31.8, 37.7))
            Line((-31.8, 37.7), (-31.8, 32.3))
            ThreePointArc((-31.8, 32.3), (-31.946446609, 31.946446609), (-32.3, 31.8))
            Line((-32.3, 31.8), (-37.7, 31.8))
            ThreePointArc((-37.7, 31.8), (-38.053553391, 31.946446609), (-38.2, 32.3))
            Line((-38.2, 32.3), (-38.2, 36))
            ThreePointArc((-38.2, 36), (-37.555634919, 37.555634919), (-36, 38.2))
        make_face(mode=Mode.SUBTRACT)
        with BuildLine():
            Line((-1.8, 36), (-1.8, 32.3))
            ThreePointArc((-1.8, 32.3), (-1.946446609, 31.946446609), (-2.3, 31.8))
            Line((-2.3, 31.8), (-7.7, 31.8))
            ThreePointArc((-7.7, 31.8), (-8.053553391, 31.946446609), (-8.2, 32.3))
            Line((-8.2, 32.3), (-8.2, 37.7))
            ThreePointArc((-8.2, 37.7), (-8.053553391, 38.053553391), (-7.7, 38.2))
            Line((-7.7, 38.2), (-4, 38.2))
            ThreePointArc((-4, 38.2), (-2.444365081, 37.555634919), (-1.8, 36))
        make_face(mode=Mode.SUBTRACT)
    extrude(amount=-BOSS_EXTRU_1_DEPTH)


solid = part.part
